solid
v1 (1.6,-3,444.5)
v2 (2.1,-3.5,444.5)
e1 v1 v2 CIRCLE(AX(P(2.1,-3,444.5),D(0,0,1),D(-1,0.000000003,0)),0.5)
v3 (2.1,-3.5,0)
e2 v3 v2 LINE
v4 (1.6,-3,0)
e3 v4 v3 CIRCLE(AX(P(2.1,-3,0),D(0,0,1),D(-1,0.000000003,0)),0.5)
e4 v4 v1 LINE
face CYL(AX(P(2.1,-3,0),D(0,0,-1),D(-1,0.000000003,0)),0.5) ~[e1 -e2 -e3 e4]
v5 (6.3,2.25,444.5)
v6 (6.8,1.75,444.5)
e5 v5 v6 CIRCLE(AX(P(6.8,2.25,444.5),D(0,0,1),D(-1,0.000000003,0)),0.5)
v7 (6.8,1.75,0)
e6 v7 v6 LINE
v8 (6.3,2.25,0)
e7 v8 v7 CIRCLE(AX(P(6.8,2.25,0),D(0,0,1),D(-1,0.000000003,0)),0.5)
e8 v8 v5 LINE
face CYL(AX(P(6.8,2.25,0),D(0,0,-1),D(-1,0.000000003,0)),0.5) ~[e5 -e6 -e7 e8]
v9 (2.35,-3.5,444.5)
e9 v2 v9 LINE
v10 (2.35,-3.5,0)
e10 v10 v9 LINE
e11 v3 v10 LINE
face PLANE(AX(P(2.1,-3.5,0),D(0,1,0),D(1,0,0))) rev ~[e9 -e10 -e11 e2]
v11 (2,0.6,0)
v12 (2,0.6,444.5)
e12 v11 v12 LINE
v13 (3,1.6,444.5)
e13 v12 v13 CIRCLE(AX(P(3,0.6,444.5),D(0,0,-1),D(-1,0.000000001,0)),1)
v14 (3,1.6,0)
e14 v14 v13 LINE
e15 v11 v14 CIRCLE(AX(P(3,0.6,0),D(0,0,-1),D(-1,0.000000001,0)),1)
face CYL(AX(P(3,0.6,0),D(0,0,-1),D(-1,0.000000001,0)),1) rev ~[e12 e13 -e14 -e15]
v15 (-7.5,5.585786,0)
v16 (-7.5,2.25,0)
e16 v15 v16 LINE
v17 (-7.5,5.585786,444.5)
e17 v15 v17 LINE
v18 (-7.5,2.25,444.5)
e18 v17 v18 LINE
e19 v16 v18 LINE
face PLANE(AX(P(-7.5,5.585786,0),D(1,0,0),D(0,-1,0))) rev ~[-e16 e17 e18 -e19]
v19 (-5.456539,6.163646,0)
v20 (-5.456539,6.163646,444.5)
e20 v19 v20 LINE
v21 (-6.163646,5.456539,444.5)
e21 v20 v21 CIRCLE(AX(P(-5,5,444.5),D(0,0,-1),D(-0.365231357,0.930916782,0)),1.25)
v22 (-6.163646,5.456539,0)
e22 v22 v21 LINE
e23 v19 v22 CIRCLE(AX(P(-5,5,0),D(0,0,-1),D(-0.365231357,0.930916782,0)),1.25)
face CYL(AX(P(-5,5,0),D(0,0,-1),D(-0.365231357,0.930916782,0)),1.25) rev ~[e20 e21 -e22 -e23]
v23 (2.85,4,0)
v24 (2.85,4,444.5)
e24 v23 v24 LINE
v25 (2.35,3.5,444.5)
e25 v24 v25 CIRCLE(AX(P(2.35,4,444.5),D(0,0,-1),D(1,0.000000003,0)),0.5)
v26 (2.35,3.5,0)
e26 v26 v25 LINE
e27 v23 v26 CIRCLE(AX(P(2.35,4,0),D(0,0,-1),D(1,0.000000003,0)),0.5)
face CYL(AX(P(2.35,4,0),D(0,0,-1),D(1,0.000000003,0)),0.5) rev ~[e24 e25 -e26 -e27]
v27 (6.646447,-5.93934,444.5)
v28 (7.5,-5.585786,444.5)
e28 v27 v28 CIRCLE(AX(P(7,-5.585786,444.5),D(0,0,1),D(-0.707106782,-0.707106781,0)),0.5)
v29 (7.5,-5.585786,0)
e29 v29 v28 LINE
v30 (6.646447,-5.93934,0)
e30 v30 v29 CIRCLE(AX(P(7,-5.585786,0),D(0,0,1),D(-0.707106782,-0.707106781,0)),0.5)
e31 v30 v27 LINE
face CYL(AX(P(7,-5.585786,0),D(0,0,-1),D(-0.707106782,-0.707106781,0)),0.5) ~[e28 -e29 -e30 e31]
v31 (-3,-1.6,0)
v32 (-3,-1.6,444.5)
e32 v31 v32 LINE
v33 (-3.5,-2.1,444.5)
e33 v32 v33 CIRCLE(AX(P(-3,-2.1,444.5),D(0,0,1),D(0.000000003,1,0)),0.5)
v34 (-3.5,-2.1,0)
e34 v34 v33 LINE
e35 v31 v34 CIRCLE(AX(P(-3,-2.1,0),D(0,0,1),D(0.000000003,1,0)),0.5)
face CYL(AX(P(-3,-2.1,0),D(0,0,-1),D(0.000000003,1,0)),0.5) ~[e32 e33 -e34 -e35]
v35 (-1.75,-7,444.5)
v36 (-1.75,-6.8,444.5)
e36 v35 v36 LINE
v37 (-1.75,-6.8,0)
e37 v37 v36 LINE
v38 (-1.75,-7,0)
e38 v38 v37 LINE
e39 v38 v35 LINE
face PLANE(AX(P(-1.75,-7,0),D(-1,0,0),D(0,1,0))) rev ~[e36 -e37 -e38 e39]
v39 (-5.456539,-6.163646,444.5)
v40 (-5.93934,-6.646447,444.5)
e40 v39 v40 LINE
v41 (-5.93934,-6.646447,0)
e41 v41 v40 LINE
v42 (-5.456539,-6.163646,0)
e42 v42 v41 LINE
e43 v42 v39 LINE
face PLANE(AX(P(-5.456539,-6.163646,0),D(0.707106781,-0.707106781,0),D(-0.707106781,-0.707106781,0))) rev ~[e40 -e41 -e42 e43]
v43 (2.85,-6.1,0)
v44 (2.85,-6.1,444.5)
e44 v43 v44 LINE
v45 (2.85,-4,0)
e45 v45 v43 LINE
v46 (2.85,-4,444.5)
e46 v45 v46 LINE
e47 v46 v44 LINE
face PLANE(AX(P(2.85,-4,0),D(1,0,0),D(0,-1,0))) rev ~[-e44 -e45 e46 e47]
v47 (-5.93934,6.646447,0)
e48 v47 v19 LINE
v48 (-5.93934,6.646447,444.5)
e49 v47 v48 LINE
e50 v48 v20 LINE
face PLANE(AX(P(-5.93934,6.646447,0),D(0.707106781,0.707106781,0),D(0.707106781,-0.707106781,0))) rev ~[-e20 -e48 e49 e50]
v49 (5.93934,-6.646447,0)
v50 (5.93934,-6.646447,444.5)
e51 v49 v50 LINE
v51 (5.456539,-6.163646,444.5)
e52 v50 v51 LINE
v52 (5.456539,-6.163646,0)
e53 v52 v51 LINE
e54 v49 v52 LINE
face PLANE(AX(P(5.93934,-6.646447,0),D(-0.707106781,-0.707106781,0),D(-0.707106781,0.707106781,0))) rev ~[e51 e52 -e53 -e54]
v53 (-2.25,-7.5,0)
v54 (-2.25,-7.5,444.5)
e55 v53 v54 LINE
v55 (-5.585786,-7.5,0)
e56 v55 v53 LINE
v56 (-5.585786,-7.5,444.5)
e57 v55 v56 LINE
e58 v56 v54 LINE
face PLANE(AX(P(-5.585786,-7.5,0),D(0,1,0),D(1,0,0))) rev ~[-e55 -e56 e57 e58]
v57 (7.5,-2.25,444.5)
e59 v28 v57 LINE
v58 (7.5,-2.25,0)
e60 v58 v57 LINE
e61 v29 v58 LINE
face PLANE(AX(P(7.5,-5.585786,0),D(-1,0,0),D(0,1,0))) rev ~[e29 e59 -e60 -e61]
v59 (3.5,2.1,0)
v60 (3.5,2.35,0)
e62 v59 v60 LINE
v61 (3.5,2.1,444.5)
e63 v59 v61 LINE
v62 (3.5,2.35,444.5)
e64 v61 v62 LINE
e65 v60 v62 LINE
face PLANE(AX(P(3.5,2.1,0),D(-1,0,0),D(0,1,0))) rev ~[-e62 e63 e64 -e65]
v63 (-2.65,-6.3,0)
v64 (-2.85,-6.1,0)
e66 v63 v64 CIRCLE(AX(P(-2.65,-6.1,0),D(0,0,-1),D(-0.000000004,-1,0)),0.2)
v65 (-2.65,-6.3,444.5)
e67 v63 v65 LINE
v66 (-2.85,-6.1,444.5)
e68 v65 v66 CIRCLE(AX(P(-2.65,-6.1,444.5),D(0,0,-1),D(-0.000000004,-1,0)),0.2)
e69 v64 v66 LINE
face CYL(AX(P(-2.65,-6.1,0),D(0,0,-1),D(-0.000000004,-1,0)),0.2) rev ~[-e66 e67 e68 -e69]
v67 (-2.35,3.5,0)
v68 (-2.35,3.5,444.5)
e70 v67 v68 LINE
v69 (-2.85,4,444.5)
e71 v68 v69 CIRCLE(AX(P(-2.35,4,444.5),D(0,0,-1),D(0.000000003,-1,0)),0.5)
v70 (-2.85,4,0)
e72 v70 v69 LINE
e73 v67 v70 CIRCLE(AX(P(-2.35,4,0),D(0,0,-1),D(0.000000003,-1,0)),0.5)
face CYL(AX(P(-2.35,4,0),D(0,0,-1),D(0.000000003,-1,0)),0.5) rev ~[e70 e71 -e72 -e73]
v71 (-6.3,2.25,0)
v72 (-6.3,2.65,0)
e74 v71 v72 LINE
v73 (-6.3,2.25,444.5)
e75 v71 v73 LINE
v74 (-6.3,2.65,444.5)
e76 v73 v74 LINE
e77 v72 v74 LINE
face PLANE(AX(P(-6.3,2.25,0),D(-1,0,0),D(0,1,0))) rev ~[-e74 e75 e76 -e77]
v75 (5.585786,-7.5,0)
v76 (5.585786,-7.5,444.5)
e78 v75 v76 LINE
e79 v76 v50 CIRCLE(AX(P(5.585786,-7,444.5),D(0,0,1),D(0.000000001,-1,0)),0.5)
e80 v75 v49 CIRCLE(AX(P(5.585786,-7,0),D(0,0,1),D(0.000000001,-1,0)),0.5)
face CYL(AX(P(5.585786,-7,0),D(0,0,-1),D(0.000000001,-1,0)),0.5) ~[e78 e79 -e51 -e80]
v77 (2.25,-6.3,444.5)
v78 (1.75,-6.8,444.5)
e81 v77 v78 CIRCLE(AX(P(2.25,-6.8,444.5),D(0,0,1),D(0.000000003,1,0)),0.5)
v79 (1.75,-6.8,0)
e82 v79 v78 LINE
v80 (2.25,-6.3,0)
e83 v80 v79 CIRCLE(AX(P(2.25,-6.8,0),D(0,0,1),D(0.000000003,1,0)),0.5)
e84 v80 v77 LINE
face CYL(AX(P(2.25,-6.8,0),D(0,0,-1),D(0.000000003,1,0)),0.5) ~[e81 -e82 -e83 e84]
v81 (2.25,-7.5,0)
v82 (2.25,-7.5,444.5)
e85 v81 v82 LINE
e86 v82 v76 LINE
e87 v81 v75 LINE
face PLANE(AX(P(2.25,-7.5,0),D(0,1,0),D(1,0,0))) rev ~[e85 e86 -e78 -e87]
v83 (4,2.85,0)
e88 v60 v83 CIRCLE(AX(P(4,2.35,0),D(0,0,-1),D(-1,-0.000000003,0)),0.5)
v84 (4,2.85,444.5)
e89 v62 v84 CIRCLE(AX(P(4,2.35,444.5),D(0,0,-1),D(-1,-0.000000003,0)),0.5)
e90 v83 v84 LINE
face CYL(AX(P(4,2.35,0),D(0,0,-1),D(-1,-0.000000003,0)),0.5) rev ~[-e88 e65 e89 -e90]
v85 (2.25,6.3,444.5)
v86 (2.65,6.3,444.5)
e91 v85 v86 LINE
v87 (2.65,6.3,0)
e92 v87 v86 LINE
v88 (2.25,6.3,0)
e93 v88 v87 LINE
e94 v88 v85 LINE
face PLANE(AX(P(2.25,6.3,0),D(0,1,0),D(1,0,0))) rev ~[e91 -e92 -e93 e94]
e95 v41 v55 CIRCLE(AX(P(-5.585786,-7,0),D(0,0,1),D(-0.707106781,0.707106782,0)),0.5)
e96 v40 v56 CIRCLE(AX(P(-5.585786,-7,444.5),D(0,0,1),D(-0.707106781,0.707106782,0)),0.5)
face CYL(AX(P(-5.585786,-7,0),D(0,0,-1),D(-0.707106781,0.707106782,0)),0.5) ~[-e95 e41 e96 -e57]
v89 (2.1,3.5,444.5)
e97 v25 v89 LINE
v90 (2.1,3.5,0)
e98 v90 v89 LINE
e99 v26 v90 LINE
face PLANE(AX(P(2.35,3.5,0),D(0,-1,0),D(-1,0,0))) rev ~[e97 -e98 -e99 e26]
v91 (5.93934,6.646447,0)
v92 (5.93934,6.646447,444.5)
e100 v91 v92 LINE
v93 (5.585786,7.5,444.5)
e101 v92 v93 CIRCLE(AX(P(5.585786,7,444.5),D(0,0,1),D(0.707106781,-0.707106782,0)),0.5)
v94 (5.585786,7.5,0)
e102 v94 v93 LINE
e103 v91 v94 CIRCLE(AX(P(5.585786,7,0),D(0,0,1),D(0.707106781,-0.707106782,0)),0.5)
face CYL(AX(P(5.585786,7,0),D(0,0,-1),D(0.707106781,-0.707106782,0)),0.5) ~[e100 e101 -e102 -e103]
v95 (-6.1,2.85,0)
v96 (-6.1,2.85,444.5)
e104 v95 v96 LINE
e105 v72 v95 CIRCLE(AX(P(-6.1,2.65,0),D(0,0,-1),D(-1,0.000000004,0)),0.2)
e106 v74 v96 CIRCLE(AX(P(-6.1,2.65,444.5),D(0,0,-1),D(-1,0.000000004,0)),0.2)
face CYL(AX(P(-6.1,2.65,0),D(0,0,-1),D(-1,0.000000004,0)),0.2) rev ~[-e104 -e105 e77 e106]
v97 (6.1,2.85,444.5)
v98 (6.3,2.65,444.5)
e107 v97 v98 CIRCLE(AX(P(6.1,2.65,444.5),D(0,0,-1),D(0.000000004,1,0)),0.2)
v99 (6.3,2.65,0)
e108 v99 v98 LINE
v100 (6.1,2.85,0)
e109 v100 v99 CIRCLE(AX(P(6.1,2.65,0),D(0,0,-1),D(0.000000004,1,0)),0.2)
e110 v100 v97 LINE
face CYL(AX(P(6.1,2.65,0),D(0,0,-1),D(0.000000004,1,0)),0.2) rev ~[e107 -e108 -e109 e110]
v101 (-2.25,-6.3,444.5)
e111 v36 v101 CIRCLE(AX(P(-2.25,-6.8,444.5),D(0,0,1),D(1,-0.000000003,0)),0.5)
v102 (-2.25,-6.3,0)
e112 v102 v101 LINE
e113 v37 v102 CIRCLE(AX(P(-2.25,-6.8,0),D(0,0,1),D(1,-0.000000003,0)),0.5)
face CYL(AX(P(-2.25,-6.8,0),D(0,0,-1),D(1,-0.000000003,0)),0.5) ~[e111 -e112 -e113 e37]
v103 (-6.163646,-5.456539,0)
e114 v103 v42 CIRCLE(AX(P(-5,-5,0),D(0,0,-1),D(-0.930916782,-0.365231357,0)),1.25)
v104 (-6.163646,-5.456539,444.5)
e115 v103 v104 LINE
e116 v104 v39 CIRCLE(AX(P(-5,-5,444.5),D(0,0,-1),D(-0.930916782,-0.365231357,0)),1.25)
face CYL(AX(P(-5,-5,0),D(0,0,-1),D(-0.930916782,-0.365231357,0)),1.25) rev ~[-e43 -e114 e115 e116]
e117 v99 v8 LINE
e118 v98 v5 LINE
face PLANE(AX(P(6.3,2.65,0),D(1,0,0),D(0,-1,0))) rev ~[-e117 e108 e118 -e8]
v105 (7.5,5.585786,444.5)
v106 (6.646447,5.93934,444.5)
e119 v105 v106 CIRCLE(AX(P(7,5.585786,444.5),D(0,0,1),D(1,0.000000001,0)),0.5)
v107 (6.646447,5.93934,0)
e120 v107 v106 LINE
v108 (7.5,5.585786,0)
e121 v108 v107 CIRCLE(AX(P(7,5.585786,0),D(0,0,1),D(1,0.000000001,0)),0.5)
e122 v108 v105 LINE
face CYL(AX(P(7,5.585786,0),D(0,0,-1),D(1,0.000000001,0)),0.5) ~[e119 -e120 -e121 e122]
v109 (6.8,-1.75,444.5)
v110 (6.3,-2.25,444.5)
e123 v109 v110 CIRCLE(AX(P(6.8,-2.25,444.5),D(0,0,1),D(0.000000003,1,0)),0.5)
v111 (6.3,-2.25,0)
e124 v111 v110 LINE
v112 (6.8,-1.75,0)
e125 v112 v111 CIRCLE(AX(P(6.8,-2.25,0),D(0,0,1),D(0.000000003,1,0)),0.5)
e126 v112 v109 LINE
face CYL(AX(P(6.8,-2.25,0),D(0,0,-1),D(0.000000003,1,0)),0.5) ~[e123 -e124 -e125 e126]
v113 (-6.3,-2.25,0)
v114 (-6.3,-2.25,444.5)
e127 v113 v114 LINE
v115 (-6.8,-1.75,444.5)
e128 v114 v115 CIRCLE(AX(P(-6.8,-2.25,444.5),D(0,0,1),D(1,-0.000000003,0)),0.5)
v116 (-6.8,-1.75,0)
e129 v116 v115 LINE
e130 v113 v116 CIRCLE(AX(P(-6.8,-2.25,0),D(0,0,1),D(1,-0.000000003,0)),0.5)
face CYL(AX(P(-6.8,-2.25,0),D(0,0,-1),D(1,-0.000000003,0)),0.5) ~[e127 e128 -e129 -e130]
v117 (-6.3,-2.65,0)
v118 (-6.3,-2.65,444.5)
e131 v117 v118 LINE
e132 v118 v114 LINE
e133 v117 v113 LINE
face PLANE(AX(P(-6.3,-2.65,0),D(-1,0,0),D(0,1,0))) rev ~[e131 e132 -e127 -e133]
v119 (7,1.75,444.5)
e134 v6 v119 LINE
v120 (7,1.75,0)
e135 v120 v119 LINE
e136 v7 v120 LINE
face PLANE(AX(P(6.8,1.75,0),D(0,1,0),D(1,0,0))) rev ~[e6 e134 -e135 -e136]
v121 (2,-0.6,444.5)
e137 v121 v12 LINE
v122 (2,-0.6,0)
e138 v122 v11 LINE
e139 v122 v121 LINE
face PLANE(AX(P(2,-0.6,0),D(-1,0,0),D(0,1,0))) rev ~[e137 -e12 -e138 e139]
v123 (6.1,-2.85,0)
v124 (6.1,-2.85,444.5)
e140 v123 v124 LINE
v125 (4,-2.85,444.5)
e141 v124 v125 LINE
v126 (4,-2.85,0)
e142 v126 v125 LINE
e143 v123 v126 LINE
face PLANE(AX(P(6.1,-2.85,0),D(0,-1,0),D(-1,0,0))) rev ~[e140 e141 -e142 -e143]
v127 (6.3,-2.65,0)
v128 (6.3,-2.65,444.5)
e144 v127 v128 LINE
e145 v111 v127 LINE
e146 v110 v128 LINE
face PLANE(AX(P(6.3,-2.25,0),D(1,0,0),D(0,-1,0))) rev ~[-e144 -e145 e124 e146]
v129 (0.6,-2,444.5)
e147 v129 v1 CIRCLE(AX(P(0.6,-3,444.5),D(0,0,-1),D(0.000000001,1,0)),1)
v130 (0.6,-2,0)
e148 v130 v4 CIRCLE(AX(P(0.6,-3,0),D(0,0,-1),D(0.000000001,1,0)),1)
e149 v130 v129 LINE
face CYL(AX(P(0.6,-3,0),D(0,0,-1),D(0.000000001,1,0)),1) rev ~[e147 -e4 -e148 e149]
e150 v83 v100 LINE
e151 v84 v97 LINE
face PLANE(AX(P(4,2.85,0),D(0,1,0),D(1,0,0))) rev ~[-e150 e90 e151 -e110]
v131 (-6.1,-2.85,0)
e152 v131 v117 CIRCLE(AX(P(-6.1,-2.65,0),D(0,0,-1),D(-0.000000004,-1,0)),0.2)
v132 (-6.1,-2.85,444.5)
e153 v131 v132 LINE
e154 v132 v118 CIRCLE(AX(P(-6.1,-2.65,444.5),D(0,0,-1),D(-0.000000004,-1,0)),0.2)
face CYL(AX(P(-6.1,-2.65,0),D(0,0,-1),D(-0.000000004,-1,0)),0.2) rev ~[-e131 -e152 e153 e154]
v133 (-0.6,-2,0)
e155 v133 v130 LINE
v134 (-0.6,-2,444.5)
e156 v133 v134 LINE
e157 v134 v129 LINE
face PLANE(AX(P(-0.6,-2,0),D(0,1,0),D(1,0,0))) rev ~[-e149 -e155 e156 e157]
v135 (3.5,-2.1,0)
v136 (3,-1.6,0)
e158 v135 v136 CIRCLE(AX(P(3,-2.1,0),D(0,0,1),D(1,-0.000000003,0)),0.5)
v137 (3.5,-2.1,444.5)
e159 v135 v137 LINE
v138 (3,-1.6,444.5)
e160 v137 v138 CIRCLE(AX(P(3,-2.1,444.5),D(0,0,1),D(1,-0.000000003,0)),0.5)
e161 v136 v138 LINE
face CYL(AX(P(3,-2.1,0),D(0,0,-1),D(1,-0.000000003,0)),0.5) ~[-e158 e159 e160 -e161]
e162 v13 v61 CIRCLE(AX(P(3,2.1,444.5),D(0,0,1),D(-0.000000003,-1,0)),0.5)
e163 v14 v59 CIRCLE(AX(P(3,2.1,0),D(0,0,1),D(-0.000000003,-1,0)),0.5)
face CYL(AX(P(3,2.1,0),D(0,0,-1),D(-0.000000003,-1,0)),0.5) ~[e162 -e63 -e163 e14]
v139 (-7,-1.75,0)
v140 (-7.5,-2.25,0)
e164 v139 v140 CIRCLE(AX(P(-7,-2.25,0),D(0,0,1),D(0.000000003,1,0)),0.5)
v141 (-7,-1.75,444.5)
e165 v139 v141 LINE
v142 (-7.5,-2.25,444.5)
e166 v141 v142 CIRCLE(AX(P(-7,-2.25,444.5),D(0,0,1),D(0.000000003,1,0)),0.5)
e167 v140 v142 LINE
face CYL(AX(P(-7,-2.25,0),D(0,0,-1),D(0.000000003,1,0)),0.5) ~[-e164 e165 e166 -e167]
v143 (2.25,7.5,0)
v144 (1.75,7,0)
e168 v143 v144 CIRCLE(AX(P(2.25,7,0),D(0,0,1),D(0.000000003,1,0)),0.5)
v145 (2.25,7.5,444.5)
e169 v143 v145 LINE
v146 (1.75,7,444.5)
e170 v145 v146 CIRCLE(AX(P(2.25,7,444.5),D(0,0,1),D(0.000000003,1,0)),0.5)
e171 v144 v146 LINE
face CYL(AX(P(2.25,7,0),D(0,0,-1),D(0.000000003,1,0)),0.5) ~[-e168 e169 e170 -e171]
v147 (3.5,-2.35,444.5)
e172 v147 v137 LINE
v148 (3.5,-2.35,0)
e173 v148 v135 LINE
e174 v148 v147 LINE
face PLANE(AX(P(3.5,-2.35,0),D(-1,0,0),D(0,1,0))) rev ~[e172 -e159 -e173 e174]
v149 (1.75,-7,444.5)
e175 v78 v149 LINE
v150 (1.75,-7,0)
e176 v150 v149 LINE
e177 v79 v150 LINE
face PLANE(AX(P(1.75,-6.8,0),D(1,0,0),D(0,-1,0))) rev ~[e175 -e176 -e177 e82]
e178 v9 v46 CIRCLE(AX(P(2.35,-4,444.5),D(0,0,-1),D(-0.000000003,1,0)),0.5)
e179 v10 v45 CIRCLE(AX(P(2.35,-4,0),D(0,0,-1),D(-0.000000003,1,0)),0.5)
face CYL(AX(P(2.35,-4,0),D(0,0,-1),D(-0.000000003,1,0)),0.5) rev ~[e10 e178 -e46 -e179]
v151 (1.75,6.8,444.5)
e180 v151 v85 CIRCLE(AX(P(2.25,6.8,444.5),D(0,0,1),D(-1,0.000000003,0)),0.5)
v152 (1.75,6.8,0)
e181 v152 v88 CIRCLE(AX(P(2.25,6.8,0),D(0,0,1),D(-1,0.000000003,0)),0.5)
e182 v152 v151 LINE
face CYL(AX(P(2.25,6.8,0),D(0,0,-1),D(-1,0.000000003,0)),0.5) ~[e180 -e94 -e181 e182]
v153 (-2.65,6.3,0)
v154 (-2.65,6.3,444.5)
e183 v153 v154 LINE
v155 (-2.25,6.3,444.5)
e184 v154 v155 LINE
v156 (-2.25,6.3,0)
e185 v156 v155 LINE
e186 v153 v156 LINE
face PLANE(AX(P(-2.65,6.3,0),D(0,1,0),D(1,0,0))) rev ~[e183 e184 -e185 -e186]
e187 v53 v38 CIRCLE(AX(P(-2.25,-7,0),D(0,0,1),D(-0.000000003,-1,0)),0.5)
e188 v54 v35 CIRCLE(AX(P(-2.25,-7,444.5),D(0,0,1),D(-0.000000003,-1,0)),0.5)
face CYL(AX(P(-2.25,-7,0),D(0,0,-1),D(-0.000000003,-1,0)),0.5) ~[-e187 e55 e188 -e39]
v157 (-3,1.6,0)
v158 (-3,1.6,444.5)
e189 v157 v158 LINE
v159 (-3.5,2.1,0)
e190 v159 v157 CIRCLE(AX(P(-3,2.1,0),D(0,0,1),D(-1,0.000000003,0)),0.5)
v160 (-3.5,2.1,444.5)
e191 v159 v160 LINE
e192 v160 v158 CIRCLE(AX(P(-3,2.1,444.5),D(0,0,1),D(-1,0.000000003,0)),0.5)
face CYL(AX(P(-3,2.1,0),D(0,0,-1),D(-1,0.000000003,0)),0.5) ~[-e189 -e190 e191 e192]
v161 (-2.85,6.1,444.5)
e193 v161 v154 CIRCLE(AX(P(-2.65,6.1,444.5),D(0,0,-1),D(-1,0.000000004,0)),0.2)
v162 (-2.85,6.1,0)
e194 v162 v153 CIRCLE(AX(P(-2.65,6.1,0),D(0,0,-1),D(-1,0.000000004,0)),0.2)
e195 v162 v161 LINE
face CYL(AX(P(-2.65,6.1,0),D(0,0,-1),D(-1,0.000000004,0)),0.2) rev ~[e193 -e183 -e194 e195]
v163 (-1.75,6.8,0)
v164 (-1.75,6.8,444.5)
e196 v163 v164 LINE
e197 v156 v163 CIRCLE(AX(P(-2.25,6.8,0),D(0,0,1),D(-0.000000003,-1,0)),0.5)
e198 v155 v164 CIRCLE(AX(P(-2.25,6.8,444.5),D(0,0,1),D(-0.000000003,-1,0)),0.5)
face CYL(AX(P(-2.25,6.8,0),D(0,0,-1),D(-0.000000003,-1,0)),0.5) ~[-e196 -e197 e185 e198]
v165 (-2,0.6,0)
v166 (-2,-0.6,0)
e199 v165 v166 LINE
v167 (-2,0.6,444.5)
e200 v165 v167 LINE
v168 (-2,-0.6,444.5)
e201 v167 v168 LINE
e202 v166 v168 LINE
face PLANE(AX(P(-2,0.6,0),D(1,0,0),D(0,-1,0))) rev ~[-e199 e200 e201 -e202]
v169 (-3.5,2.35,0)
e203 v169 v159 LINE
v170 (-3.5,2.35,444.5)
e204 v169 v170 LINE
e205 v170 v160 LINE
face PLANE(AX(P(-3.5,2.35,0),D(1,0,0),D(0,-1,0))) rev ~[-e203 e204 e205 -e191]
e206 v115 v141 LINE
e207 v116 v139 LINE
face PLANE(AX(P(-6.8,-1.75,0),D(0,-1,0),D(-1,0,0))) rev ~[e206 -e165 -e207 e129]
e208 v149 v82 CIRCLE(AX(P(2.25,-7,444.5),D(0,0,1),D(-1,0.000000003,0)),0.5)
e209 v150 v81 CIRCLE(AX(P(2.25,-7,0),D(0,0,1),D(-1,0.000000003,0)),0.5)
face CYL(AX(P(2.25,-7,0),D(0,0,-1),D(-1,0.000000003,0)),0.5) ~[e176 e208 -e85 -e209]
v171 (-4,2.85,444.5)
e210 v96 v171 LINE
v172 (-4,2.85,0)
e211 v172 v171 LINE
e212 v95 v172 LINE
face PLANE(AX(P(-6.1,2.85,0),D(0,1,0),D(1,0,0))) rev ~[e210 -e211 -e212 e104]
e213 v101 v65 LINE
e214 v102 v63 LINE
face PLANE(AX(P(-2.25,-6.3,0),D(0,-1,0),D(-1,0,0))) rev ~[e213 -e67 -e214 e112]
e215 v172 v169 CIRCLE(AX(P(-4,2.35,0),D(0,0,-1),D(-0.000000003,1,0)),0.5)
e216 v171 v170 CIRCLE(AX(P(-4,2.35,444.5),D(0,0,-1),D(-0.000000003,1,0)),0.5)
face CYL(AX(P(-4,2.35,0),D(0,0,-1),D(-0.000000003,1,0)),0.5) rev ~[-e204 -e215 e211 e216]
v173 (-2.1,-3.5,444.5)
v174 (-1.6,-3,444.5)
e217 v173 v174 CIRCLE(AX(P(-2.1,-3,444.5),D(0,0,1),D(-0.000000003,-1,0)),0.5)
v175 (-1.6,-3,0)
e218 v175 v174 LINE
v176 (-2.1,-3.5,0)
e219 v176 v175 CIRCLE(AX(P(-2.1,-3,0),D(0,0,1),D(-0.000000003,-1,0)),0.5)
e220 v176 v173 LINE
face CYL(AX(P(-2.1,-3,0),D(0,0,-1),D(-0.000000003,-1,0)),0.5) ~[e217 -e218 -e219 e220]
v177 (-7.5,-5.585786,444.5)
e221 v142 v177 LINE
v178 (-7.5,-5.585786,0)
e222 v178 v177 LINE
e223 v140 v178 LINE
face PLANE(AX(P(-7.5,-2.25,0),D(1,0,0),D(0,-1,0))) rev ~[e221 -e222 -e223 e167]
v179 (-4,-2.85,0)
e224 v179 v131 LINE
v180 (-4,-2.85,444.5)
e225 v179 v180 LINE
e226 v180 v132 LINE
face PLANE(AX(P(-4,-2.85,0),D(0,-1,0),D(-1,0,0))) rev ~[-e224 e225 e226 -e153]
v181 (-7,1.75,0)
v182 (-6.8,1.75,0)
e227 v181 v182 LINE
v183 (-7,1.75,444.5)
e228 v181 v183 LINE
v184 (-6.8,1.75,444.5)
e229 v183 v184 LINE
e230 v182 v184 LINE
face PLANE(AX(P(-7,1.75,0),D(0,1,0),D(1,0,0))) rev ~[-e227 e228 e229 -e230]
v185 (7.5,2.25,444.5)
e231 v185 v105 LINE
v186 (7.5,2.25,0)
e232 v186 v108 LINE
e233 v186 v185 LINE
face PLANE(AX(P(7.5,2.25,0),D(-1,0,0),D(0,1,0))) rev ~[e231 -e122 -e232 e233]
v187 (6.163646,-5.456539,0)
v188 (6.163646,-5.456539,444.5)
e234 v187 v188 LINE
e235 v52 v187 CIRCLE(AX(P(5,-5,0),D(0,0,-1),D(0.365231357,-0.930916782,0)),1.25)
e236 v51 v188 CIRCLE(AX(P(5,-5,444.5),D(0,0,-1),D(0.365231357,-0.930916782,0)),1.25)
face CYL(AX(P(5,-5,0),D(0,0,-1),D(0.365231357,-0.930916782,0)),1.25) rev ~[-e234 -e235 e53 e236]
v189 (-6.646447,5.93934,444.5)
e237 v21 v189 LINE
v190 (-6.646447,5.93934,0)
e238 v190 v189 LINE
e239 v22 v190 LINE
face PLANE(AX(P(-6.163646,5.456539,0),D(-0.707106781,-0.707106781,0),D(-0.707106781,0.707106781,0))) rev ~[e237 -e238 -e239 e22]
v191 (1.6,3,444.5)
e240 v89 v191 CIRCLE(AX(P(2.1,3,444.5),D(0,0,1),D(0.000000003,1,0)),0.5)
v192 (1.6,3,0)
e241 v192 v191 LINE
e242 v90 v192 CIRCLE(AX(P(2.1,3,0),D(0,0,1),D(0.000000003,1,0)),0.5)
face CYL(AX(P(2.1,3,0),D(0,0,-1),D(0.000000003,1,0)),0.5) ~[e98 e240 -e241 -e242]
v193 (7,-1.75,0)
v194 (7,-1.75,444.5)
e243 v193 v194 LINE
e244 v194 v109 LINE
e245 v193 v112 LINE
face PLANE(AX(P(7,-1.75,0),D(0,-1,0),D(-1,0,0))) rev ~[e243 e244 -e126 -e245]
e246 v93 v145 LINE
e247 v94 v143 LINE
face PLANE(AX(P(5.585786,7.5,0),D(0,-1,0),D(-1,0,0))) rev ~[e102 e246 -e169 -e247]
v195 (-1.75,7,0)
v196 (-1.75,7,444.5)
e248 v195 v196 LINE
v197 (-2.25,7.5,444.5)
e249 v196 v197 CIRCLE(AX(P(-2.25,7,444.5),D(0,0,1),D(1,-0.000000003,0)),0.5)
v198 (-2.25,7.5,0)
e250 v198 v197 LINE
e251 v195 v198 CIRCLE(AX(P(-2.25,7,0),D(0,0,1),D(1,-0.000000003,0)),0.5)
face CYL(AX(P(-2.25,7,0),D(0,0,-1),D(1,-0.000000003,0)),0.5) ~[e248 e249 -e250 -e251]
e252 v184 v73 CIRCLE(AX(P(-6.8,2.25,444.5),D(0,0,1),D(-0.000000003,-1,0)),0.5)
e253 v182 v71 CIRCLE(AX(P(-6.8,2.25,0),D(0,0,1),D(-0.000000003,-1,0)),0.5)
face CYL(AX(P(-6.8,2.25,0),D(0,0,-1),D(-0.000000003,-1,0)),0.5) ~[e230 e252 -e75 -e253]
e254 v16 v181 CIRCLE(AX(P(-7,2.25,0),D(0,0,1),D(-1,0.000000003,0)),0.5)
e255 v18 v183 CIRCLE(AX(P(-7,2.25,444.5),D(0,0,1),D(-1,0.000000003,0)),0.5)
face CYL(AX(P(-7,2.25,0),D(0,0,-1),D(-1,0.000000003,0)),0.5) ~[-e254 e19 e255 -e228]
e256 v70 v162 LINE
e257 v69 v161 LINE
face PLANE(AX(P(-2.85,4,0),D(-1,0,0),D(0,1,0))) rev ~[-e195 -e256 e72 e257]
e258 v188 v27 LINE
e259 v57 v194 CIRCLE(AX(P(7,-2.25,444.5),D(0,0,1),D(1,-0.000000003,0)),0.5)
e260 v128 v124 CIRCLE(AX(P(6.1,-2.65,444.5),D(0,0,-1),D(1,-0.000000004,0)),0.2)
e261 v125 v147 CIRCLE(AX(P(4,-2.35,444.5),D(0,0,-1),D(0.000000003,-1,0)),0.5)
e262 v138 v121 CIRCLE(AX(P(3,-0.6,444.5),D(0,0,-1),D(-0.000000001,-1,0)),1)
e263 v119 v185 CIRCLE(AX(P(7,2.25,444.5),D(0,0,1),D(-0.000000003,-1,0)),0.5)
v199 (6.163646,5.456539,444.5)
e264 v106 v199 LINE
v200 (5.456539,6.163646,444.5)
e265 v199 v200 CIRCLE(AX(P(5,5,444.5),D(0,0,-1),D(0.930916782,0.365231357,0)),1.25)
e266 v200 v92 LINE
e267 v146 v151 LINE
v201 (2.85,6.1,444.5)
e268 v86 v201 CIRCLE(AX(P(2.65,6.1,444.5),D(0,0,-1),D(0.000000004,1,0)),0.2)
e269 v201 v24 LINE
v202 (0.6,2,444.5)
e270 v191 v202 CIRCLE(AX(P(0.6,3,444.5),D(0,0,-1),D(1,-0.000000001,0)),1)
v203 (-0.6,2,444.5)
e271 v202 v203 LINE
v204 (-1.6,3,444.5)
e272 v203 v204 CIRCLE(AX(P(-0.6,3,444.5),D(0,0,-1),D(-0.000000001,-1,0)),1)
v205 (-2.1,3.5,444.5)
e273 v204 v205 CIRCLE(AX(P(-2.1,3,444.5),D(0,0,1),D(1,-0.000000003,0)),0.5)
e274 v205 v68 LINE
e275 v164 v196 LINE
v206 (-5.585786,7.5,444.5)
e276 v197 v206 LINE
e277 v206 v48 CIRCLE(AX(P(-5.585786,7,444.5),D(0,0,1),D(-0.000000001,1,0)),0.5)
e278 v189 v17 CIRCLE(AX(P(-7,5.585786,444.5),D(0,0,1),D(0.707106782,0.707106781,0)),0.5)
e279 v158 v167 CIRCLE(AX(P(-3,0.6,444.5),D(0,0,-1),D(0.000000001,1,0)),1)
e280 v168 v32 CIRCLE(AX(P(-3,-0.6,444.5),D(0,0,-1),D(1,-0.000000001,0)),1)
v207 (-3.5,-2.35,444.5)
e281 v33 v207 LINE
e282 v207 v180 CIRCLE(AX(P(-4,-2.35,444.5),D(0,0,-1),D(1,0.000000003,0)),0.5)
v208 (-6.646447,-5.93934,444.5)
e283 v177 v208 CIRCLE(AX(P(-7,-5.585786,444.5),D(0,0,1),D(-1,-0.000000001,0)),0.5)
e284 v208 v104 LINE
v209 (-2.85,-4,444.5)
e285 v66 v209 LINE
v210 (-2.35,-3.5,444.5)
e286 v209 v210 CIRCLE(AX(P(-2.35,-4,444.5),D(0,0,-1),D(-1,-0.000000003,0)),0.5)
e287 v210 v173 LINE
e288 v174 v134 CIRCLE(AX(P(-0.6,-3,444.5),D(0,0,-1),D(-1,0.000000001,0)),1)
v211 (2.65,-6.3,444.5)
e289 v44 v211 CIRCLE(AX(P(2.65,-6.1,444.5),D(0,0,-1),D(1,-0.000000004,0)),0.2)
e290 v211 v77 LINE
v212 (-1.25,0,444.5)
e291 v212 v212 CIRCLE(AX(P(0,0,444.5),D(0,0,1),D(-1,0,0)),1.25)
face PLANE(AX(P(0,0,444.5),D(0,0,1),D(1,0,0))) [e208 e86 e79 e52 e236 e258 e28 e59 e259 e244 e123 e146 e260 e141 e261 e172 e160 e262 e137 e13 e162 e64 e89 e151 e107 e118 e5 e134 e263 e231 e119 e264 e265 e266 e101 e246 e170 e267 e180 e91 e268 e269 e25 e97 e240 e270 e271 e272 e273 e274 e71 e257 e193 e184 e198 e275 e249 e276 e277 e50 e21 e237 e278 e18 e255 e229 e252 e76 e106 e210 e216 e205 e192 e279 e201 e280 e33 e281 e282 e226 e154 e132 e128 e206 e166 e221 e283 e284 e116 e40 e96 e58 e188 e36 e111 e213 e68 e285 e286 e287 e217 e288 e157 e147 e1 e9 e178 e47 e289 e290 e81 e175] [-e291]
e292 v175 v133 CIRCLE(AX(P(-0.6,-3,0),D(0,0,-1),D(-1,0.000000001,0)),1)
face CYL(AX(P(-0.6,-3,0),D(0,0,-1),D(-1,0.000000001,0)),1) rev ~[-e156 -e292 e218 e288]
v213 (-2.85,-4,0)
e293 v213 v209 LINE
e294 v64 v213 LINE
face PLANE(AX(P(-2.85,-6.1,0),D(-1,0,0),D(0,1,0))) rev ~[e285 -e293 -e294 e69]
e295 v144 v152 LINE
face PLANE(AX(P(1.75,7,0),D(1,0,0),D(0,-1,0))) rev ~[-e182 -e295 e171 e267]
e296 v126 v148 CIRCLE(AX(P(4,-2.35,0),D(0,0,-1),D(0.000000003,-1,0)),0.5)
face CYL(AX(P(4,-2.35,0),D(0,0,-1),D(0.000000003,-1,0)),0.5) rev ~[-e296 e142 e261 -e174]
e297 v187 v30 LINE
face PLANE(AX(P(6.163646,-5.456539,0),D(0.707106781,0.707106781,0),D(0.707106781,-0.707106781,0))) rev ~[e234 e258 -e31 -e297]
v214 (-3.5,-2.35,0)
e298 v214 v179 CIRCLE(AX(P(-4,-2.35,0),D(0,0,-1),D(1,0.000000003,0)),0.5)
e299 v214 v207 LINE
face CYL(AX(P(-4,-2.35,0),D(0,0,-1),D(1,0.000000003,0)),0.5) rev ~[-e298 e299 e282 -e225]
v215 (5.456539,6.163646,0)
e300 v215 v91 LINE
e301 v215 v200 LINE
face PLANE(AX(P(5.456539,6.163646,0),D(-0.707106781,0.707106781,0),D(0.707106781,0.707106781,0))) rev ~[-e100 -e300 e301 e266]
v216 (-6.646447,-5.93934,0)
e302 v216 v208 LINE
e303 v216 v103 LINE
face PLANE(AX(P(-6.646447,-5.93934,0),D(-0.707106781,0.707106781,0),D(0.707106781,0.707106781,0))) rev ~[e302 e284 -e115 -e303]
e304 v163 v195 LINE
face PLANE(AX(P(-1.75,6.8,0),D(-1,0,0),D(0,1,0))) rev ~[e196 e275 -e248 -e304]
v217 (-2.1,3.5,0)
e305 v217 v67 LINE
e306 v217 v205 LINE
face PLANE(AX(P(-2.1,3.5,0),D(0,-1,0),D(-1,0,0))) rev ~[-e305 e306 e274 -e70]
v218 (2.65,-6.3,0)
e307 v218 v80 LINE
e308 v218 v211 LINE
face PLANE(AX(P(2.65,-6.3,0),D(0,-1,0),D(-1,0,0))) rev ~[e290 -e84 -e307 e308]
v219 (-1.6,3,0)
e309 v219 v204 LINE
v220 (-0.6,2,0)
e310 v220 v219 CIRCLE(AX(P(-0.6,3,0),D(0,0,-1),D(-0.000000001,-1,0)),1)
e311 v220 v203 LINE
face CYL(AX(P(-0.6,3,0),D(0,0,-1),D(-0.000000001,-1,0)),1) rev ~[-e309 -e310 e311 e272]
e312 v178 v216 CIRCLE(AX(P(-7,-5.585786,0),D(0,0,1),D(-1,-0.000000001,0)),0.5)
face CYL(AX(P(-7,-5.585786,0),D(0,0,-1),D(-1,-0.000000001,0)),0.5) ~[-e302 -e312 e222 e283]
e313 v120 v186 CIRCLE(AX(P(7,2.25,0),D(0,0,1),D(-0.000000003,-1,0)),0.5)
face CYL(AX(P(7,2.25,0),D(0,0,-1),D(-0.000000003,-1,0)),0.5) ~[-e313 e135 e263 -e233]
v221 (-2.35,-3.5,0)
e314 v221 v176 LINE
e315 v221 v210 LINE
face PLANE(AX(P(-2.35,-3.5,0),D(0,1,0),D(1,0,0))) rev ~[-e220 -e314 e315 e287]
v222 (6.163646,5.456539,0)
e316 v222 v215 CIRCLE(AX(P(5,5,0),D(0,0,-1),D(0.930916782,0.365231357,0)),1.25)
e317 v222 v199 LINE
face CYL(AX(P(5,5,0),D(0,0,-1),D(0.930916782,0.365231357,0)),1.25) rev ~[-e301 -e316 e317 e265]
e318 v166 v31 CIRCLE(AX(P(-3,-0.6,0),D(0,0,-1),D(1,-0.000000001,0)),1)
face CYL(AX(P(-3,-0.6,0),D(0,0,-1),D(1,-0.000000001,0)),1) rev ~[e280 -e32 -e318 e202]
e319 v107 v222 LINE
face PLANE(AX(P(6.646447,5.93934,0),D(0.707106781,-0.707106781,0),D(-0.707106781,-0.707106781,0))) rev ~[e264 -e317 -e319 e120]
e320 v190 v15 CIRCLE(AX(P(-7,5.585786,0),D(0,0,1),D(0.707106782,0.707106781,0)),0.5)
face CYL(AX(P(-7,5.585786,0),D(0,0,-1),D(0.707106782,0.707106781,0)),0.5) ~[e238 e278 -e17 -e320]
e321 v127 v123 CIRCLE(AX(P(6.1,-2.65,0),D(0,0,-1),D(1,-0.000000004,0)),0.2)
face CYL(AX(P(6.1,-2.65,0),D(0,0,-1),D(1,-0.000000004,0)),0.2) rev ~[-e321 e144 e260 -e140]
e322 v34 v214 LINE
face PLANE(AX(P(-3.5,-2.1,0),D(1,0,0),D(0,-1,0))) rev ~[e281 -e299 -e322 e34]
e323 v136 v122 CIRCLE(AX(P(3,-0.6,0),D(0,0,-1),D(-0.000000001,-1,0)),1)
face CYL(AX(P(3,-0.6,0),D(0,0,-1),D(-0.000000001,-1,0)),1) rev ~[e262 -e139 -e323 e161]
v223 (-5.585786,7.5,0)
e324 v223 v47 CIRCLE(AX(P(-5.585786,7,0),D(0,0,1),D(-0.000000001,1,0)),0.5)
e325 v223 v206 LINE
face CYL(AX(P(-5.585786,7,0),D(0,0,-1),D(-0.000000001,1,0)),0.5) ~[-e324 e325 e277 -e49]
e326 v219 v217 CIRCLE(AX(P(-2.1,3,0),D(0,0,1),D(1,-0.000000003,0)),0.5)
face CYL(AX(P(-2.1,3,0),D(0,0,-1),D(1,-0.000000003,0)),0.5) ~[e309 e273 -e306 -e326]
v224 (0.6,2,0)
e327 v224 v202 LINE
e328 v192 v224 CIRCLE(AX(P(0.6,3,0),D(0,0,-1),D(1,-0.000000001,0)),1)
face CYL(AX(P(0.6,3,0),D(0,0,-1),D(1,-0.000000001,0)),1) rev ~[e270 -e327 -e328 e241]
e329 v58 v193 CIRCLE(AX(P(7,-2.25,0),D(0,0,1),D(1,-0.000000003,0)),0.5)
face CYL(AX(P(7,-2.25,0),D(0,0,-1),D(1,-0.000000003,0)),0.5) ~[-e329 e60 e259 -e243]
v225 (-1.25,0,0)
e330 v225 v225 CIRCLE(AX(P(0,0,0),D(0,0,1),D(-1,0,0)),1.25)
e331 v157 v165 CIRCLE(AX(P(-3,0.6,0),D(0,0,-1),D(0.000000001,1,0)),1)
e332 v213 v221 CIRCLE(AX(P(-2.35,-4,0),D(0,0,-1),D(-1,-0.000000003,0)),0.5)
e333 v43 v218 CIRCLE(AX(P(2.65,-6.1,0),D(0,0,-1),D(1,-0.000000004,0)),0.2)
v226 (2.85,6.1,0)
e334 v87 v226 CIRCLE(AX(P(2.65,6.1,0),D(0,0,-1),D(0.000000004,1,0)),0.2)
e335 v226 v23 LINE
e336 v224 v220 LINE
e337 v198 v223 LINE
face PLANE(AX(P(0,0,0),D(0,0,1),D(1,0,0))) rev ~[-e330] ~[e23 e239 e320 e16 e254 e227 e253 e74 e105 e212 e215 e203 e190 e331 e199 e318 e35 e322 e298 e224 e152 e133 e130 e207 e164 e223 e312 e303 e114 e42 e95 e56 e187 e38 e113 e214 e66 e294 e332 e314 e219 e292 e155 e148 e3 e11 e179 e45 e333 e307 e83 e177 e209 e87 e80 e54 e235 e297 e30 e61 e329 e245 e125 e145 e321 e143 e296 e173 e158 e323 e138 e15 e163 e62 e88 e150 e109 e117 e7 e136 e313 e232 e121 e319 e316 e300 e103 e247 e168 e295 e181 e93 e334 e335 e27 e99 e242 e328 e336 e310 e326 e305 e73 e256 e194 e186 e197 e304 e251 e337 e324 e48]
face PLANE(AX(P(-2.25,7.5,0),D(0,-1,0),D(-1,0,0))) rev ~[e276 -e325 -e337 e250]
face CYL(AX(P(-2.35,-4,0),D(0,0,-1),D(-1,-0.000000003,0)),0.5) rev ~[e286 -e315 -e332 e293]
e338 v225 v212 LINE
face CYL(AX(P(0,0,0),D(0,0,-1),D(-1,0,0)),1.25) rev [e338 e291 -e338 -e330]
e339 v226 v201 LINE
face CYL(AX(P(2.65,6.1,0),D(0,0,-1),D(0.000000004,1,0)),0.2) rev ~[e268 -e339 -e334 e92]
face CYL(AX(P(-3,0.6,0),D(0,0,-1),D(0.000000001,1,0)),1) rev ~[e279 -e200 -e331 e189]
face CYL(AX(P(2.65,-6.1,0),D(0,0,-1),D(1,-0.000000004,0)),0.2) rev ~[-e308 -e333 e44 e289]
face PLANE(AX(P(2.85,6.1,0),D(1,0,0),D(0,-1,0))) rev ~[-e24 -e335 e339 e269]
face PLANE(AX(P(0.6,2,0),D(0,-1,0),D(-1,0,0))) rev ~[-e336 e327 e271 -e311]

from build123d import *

# Parameters (mm, degrees)
SKETCH1_R           = 1.25
BOSS_EXTRUDE1_DEPTH = 444.5


with BuildPart() as part:
    # Sketch1 → Boss-Extrude1 (new body)
    with BuildSketch(Plane.XY):
        with BuildLine():
            Line((6.646446609, 5.939339828), (6.163645978, 5.456539197))
            ThreePointArc((6.163645978, 5.456539197), (4.116116524, 4.116116524), (5.456539197, 6.163645978))
            Line((5.456539197, 6.163645978), (5.939339828, 6.646446609))
            ThreePointArc((5.939339828, 6.646446609), (6.047726204, 7.191341716), (5.585786438, 7.5))
            Line((5.585786438, 7.5), (2.25, 7.5))
            ThreePointArc((2.25, 7.5), (1.896446609, 7.353553391), (1.75, 7))
            Line((1.75, 7), (1.75, 6.8))
            ThreePointArc((1.75, 6.8), (1.896446609, 6.446446609), (2.25, 6.3))
            Line((2.25, 6.3), (2.65, 6.3))
            ThreePointArc((2.65, 6.3), (2.791421356, 6.241421356), (2.85, 6.1))
            Line((2.85, 6.1), (2.85, 4))
            ThreePointArc((2.85, 4), (2.703553391, 3.646446609), (2.35, 3.5))
            Line((2.35, 3.5), (2.1, 3.5))
            ThreePointArc((2.1, 3.5), (1.746446609, 3.353553391), (1.6, 3))
            ThreePointArc((1.6, 3), (1.307106781, 2.292893219), (0.6, 2))
            Line((0.6, 2), (-0.6, 2))
            ThreePointArc((-0.6, 2), (-1.307106781, 2.292893219), (-1.6, 3))
            ThreePointArc((-1.6, 3), (-1.746446609, 3.353553391), (-2.1, 3.5))
            Line((-2.1, 3.5), (-2.35, 3.5))
            ThreePointArc((-2.35, 3.5), (-2.703553391, 3.646446609), (-2.85, 4))
            Line((-2.85, 4), (-2.85, 6.1))
            ThreePointArc((-2.85, 6.1), (-2.791421356, 6.241421356), (-2.65, 6.3))
            Line((-2.65, 6.3), (-2.25, 6.3))
            ThreePointArc((-2.25, 6.3), (-1.896446609, 6.446446609), (-1.75, 6.8))
            Line((-1.75, 6.8), (-1.75, 7))
            ThreePointArc((-1.75, 7), (-1.896446609, 7.353553391), (-2.25, 7.5))
            Line((-2.25, 7.5), (-5.585786438, 7.5))
            ThreePointArc((-5.585786438, 7.5), (-6.047726204, 7.191341716), (-5.939339828, 6.646446609))
            Line((-5.939339828, 6.646446609), (-5.456539197, 6.163645978))
            ThreePointArc((-5.456539197, 6.163645978), (-4.116116524, 4.116116524), (-6.163645978, 5.456539197))
            Line((-6.163645978, 5.456539197), (-6.646446609, 5.939339828))
            ThreePointArc((-6.646446609, 5.939339828), (-7.191341716, 6.047726204), (-7.5, 5.585786438))
            Line((-7.5, 5.585786438), (-7.5, 2.25))
            ThreePointArc((-7.5, 2.25), (-7.353553391, 1.896446609), (-7, 1.75))
            Line((-7, 1.75), (-6.8, 1.75))
            ThreePointArc((-6.8, 1.75), (-6.446446609, 1.896446609), (-6.3, 2.25))
            Line((-6.3, 2.25), (-6.3, 2.65))
            ThreePointArc((-6.3, 2.65), (-6.241421356, 2.791421356), (-6.1, 2.85))
            Line((-6.1, 2.85), (-4, 2.85))
            ThreePointArc((-4, 2.85), (-3.646446609, 2.703553391), (-3.5, 2.35))
            Line((-3.5, 2.35), (-3.5, 2.1))
            ThreePointArc((-3.5, 2.1), (-3.353553391, 1.746446609), (-3, 1.6))
            ThreePointArc((-3, 1.6), (-2.292893219, 1.307106781), (-2, 0.6))
            Line((-2, 0.6), (-2, -0.6))
            ThreePointArc((-2, -0.6), (-2.292893219, -1.307106781), (-3, -1.6))
            ThreePointArc((-3, -1.6), (-3.353553391, -1.746446609), (-3.5, -2.1))
            Line((-3.5, -2.1), (-3.5, -2.35))
            ThreePointArc((-3.5, -2.35), (-3.646446609, -2.703553391), (-4, -2.85))
            Line((-4, -2.85), (-6.1, -2.85))
            ThreePointArc((-6.1, -2.85), (-6.241421356, -2.791421356), (-6.3, -2.65))
            Line((-6.3, -2.65), (-6.3, -2.25))
            ThreePointArc((-6.3, -2.25), (-6.446446609, -1.896446609), (-6.8, -1.75))
            Line((-6.8, -1.75), (-7, -1.75))
            ThreePointArc((-7, -1.75), (-7.353553391, -1.896446609), (-7.5, -2.25))
            Line((-7.5, -2.25), (-7.5, -5.585786438))
            ThreePointArc((-7.5, -5.585786438), (-7.191341716, -6.047726204), (-6.646446609, -5.939339828))
            Line((-6.646446609, -5.939339828), (-6.163645978, -5.456539197))
            ThreePointArc((-6.163645978, -5.456539197), (-4.116116524, -4.116116524), (-5.456539197, -6.163645978))
            Line((-5.456539197, -6.163645978), (-5.939339828, -6.646446609))
            ThreePointArc((-5.939339828, -6.646446609), (-6.047726204, -7.191341716), (-5.585786438, -7.5))
            Line((-5.585786438, -7.5), (-2.25, -7.5))
            ThreePointArc((-2.25, -7.5), (-1.896446609, -7.353553391), (-1.75, -7))
            Line((-1.75, -7), (-1.75, -6.8))
            ThreePointArc((-1.75, -6.8), (-1.896446609, -6.446446609), (-2.25, -6.3))
            Line((-2.25, -6.3), (-2.65, -6.3))
            ThreePointArc((-2.65, -6.3), (-2.791421356, -6.241421356), (-2.85, -6.1))
            Line((-2.85, -6.1), (-2.85, -4))
            ThreePointArc((-2.85, -4), (-2.703553391, -3.646446609), (-2.35, -3.5))
            Line((-2.35, -3.5), (-2.1, -3.5))
            ThreePointArc((-2.1, -3.5), (-1.746446609, -3.353553391), (-1.6, -3))
            ThreePointArc((-1.6, -3), (-1.307106781, -2.292893219), (-0.6, -2))
            Line((-0.6, -2), (0.6, -2))
            ThreePointArc((0.6, -2), (1.307106781, -2.292893219), (1.6, -3))
            ThreePointArc((1.6, -3), (1.746446609, -3.353553391), (2.1, -3.5))
            Line((2.1, -3.5), (2.35, -3.5))
            ThreePointArc((2.35, -3.5), (2.703553391, -3.646446609), (2.85, -4))
            Line((2.85, -4), (2.85, -6.1))
            ThreePointArc((2.85, -6.1), (2.791421356, -6.241421356), (2.65, -6.3))
            Line((2.65, -6.3), (2.25, -6.3))
            ThreePointArc((2.25, -6.3), (1.896446609, -6.446446609), (1.75, -6.8))
            Line((1.75, -6.8), (1.75, -7))
            ThreePointArc((1.75, -7), (1.896446609, -7.353553391), (2.25, -7.5))
            Line((2.25, -7.5), (5.585786438, -7.5))
            ThreePointArc((5.585786438, -7.5), (6.047726204, -7.191341716), (5.939339828, -6.646446609))
            Line((5.939339828, -6.646446609), (5.456539197, -6.163645978))
            ThreePointArc((5.456539197, -6.163645978), (4.116116524, -4.116116524), (6.163645978, -5.456539197))
            Line((6.163645978, -5.456539197), (6.646446609, -5.939339828))
            ThreePointArc((6.646446609, -5.939339828), (7.191341716, -6.047726204), (7.5, -5.585786438))
            Line((7.5, -5.585786438), (7.5, -2.25))
            ThreePointArc((7.5, -2.25), (7.353553391, -1.896446609), (7, -1.75))
            Line((7, -1.75), (6.8, -1.75))
            ThreePointArc((6.8, -1.75), (6.446446609, -1.896446609), (6.3, -2.25))
            Line((6.3, -2.25), (6.3, -2.65))
            ThreePointArc((6.3, -2.65), (6.241421356, -2.791421356), (6.1, -2.85))
            Line((6.1, -2.85), (4, -2.85))
            ThreePointArc((4, -2.85), (3.646446609, -2.703553391), (3.5, -2.35))
            Line((3.5, -2.35), (3.5, -2.1))
            ThreePointArc((3.5, -2.1), (3.353553391, -1.746446609), (3, -1.6))
            ThreePointArc((3, -1.6), (2.292893219, -1.307106781), (2, -0.6))
            Line((2, -0.6), (2, 0.6))
            ThreePointArc((2, 0.6), (2.292893219, 1.307106781), (3, 1.6))
            ThreePointArc((3, 1.6), (3.353553391, 1.746446609), (3.5, 2.1))
            Line((3.5, 2.1), (3.5, 2.35))
            ThreePointArc((3.5, 2.35), (3.646446609, 2.703553391), (4, 2.85))
            Line((4, 2.85), (6.1, 2.85))
            ThreePointArc((6.1, 2.85), (6.241421356, 2.791421356), (6.3, 2.65))
            Line((6.3, 2.65), (6.3, 2.25))
            ThreePointArc((6.3, 2.25), (6.446446609, 1.896446609), (6.8, 1.75))
            Line((6.8, 1.75), (7, 1.75))
            ThreePointArc((7, 1.75), (7.353553391, 1.896446609), (7.5, 2.25))
            Line((7.5, 2.25), (7.5, 5.585786438))
            ThreePointArc((7.5, 5.585786438), (7.191341716, 6.047726204), (6.646446609, 5.939339828))
        make_face()
        with Locations(Location((0, 0, 0), (0, 0, 180))):
            Circle(SKETCH1_R, mode=Mode.SUBTRACT)
    extrude(amount=BOSS_EXTRUDE1_DEPTH)


solid = part.part
